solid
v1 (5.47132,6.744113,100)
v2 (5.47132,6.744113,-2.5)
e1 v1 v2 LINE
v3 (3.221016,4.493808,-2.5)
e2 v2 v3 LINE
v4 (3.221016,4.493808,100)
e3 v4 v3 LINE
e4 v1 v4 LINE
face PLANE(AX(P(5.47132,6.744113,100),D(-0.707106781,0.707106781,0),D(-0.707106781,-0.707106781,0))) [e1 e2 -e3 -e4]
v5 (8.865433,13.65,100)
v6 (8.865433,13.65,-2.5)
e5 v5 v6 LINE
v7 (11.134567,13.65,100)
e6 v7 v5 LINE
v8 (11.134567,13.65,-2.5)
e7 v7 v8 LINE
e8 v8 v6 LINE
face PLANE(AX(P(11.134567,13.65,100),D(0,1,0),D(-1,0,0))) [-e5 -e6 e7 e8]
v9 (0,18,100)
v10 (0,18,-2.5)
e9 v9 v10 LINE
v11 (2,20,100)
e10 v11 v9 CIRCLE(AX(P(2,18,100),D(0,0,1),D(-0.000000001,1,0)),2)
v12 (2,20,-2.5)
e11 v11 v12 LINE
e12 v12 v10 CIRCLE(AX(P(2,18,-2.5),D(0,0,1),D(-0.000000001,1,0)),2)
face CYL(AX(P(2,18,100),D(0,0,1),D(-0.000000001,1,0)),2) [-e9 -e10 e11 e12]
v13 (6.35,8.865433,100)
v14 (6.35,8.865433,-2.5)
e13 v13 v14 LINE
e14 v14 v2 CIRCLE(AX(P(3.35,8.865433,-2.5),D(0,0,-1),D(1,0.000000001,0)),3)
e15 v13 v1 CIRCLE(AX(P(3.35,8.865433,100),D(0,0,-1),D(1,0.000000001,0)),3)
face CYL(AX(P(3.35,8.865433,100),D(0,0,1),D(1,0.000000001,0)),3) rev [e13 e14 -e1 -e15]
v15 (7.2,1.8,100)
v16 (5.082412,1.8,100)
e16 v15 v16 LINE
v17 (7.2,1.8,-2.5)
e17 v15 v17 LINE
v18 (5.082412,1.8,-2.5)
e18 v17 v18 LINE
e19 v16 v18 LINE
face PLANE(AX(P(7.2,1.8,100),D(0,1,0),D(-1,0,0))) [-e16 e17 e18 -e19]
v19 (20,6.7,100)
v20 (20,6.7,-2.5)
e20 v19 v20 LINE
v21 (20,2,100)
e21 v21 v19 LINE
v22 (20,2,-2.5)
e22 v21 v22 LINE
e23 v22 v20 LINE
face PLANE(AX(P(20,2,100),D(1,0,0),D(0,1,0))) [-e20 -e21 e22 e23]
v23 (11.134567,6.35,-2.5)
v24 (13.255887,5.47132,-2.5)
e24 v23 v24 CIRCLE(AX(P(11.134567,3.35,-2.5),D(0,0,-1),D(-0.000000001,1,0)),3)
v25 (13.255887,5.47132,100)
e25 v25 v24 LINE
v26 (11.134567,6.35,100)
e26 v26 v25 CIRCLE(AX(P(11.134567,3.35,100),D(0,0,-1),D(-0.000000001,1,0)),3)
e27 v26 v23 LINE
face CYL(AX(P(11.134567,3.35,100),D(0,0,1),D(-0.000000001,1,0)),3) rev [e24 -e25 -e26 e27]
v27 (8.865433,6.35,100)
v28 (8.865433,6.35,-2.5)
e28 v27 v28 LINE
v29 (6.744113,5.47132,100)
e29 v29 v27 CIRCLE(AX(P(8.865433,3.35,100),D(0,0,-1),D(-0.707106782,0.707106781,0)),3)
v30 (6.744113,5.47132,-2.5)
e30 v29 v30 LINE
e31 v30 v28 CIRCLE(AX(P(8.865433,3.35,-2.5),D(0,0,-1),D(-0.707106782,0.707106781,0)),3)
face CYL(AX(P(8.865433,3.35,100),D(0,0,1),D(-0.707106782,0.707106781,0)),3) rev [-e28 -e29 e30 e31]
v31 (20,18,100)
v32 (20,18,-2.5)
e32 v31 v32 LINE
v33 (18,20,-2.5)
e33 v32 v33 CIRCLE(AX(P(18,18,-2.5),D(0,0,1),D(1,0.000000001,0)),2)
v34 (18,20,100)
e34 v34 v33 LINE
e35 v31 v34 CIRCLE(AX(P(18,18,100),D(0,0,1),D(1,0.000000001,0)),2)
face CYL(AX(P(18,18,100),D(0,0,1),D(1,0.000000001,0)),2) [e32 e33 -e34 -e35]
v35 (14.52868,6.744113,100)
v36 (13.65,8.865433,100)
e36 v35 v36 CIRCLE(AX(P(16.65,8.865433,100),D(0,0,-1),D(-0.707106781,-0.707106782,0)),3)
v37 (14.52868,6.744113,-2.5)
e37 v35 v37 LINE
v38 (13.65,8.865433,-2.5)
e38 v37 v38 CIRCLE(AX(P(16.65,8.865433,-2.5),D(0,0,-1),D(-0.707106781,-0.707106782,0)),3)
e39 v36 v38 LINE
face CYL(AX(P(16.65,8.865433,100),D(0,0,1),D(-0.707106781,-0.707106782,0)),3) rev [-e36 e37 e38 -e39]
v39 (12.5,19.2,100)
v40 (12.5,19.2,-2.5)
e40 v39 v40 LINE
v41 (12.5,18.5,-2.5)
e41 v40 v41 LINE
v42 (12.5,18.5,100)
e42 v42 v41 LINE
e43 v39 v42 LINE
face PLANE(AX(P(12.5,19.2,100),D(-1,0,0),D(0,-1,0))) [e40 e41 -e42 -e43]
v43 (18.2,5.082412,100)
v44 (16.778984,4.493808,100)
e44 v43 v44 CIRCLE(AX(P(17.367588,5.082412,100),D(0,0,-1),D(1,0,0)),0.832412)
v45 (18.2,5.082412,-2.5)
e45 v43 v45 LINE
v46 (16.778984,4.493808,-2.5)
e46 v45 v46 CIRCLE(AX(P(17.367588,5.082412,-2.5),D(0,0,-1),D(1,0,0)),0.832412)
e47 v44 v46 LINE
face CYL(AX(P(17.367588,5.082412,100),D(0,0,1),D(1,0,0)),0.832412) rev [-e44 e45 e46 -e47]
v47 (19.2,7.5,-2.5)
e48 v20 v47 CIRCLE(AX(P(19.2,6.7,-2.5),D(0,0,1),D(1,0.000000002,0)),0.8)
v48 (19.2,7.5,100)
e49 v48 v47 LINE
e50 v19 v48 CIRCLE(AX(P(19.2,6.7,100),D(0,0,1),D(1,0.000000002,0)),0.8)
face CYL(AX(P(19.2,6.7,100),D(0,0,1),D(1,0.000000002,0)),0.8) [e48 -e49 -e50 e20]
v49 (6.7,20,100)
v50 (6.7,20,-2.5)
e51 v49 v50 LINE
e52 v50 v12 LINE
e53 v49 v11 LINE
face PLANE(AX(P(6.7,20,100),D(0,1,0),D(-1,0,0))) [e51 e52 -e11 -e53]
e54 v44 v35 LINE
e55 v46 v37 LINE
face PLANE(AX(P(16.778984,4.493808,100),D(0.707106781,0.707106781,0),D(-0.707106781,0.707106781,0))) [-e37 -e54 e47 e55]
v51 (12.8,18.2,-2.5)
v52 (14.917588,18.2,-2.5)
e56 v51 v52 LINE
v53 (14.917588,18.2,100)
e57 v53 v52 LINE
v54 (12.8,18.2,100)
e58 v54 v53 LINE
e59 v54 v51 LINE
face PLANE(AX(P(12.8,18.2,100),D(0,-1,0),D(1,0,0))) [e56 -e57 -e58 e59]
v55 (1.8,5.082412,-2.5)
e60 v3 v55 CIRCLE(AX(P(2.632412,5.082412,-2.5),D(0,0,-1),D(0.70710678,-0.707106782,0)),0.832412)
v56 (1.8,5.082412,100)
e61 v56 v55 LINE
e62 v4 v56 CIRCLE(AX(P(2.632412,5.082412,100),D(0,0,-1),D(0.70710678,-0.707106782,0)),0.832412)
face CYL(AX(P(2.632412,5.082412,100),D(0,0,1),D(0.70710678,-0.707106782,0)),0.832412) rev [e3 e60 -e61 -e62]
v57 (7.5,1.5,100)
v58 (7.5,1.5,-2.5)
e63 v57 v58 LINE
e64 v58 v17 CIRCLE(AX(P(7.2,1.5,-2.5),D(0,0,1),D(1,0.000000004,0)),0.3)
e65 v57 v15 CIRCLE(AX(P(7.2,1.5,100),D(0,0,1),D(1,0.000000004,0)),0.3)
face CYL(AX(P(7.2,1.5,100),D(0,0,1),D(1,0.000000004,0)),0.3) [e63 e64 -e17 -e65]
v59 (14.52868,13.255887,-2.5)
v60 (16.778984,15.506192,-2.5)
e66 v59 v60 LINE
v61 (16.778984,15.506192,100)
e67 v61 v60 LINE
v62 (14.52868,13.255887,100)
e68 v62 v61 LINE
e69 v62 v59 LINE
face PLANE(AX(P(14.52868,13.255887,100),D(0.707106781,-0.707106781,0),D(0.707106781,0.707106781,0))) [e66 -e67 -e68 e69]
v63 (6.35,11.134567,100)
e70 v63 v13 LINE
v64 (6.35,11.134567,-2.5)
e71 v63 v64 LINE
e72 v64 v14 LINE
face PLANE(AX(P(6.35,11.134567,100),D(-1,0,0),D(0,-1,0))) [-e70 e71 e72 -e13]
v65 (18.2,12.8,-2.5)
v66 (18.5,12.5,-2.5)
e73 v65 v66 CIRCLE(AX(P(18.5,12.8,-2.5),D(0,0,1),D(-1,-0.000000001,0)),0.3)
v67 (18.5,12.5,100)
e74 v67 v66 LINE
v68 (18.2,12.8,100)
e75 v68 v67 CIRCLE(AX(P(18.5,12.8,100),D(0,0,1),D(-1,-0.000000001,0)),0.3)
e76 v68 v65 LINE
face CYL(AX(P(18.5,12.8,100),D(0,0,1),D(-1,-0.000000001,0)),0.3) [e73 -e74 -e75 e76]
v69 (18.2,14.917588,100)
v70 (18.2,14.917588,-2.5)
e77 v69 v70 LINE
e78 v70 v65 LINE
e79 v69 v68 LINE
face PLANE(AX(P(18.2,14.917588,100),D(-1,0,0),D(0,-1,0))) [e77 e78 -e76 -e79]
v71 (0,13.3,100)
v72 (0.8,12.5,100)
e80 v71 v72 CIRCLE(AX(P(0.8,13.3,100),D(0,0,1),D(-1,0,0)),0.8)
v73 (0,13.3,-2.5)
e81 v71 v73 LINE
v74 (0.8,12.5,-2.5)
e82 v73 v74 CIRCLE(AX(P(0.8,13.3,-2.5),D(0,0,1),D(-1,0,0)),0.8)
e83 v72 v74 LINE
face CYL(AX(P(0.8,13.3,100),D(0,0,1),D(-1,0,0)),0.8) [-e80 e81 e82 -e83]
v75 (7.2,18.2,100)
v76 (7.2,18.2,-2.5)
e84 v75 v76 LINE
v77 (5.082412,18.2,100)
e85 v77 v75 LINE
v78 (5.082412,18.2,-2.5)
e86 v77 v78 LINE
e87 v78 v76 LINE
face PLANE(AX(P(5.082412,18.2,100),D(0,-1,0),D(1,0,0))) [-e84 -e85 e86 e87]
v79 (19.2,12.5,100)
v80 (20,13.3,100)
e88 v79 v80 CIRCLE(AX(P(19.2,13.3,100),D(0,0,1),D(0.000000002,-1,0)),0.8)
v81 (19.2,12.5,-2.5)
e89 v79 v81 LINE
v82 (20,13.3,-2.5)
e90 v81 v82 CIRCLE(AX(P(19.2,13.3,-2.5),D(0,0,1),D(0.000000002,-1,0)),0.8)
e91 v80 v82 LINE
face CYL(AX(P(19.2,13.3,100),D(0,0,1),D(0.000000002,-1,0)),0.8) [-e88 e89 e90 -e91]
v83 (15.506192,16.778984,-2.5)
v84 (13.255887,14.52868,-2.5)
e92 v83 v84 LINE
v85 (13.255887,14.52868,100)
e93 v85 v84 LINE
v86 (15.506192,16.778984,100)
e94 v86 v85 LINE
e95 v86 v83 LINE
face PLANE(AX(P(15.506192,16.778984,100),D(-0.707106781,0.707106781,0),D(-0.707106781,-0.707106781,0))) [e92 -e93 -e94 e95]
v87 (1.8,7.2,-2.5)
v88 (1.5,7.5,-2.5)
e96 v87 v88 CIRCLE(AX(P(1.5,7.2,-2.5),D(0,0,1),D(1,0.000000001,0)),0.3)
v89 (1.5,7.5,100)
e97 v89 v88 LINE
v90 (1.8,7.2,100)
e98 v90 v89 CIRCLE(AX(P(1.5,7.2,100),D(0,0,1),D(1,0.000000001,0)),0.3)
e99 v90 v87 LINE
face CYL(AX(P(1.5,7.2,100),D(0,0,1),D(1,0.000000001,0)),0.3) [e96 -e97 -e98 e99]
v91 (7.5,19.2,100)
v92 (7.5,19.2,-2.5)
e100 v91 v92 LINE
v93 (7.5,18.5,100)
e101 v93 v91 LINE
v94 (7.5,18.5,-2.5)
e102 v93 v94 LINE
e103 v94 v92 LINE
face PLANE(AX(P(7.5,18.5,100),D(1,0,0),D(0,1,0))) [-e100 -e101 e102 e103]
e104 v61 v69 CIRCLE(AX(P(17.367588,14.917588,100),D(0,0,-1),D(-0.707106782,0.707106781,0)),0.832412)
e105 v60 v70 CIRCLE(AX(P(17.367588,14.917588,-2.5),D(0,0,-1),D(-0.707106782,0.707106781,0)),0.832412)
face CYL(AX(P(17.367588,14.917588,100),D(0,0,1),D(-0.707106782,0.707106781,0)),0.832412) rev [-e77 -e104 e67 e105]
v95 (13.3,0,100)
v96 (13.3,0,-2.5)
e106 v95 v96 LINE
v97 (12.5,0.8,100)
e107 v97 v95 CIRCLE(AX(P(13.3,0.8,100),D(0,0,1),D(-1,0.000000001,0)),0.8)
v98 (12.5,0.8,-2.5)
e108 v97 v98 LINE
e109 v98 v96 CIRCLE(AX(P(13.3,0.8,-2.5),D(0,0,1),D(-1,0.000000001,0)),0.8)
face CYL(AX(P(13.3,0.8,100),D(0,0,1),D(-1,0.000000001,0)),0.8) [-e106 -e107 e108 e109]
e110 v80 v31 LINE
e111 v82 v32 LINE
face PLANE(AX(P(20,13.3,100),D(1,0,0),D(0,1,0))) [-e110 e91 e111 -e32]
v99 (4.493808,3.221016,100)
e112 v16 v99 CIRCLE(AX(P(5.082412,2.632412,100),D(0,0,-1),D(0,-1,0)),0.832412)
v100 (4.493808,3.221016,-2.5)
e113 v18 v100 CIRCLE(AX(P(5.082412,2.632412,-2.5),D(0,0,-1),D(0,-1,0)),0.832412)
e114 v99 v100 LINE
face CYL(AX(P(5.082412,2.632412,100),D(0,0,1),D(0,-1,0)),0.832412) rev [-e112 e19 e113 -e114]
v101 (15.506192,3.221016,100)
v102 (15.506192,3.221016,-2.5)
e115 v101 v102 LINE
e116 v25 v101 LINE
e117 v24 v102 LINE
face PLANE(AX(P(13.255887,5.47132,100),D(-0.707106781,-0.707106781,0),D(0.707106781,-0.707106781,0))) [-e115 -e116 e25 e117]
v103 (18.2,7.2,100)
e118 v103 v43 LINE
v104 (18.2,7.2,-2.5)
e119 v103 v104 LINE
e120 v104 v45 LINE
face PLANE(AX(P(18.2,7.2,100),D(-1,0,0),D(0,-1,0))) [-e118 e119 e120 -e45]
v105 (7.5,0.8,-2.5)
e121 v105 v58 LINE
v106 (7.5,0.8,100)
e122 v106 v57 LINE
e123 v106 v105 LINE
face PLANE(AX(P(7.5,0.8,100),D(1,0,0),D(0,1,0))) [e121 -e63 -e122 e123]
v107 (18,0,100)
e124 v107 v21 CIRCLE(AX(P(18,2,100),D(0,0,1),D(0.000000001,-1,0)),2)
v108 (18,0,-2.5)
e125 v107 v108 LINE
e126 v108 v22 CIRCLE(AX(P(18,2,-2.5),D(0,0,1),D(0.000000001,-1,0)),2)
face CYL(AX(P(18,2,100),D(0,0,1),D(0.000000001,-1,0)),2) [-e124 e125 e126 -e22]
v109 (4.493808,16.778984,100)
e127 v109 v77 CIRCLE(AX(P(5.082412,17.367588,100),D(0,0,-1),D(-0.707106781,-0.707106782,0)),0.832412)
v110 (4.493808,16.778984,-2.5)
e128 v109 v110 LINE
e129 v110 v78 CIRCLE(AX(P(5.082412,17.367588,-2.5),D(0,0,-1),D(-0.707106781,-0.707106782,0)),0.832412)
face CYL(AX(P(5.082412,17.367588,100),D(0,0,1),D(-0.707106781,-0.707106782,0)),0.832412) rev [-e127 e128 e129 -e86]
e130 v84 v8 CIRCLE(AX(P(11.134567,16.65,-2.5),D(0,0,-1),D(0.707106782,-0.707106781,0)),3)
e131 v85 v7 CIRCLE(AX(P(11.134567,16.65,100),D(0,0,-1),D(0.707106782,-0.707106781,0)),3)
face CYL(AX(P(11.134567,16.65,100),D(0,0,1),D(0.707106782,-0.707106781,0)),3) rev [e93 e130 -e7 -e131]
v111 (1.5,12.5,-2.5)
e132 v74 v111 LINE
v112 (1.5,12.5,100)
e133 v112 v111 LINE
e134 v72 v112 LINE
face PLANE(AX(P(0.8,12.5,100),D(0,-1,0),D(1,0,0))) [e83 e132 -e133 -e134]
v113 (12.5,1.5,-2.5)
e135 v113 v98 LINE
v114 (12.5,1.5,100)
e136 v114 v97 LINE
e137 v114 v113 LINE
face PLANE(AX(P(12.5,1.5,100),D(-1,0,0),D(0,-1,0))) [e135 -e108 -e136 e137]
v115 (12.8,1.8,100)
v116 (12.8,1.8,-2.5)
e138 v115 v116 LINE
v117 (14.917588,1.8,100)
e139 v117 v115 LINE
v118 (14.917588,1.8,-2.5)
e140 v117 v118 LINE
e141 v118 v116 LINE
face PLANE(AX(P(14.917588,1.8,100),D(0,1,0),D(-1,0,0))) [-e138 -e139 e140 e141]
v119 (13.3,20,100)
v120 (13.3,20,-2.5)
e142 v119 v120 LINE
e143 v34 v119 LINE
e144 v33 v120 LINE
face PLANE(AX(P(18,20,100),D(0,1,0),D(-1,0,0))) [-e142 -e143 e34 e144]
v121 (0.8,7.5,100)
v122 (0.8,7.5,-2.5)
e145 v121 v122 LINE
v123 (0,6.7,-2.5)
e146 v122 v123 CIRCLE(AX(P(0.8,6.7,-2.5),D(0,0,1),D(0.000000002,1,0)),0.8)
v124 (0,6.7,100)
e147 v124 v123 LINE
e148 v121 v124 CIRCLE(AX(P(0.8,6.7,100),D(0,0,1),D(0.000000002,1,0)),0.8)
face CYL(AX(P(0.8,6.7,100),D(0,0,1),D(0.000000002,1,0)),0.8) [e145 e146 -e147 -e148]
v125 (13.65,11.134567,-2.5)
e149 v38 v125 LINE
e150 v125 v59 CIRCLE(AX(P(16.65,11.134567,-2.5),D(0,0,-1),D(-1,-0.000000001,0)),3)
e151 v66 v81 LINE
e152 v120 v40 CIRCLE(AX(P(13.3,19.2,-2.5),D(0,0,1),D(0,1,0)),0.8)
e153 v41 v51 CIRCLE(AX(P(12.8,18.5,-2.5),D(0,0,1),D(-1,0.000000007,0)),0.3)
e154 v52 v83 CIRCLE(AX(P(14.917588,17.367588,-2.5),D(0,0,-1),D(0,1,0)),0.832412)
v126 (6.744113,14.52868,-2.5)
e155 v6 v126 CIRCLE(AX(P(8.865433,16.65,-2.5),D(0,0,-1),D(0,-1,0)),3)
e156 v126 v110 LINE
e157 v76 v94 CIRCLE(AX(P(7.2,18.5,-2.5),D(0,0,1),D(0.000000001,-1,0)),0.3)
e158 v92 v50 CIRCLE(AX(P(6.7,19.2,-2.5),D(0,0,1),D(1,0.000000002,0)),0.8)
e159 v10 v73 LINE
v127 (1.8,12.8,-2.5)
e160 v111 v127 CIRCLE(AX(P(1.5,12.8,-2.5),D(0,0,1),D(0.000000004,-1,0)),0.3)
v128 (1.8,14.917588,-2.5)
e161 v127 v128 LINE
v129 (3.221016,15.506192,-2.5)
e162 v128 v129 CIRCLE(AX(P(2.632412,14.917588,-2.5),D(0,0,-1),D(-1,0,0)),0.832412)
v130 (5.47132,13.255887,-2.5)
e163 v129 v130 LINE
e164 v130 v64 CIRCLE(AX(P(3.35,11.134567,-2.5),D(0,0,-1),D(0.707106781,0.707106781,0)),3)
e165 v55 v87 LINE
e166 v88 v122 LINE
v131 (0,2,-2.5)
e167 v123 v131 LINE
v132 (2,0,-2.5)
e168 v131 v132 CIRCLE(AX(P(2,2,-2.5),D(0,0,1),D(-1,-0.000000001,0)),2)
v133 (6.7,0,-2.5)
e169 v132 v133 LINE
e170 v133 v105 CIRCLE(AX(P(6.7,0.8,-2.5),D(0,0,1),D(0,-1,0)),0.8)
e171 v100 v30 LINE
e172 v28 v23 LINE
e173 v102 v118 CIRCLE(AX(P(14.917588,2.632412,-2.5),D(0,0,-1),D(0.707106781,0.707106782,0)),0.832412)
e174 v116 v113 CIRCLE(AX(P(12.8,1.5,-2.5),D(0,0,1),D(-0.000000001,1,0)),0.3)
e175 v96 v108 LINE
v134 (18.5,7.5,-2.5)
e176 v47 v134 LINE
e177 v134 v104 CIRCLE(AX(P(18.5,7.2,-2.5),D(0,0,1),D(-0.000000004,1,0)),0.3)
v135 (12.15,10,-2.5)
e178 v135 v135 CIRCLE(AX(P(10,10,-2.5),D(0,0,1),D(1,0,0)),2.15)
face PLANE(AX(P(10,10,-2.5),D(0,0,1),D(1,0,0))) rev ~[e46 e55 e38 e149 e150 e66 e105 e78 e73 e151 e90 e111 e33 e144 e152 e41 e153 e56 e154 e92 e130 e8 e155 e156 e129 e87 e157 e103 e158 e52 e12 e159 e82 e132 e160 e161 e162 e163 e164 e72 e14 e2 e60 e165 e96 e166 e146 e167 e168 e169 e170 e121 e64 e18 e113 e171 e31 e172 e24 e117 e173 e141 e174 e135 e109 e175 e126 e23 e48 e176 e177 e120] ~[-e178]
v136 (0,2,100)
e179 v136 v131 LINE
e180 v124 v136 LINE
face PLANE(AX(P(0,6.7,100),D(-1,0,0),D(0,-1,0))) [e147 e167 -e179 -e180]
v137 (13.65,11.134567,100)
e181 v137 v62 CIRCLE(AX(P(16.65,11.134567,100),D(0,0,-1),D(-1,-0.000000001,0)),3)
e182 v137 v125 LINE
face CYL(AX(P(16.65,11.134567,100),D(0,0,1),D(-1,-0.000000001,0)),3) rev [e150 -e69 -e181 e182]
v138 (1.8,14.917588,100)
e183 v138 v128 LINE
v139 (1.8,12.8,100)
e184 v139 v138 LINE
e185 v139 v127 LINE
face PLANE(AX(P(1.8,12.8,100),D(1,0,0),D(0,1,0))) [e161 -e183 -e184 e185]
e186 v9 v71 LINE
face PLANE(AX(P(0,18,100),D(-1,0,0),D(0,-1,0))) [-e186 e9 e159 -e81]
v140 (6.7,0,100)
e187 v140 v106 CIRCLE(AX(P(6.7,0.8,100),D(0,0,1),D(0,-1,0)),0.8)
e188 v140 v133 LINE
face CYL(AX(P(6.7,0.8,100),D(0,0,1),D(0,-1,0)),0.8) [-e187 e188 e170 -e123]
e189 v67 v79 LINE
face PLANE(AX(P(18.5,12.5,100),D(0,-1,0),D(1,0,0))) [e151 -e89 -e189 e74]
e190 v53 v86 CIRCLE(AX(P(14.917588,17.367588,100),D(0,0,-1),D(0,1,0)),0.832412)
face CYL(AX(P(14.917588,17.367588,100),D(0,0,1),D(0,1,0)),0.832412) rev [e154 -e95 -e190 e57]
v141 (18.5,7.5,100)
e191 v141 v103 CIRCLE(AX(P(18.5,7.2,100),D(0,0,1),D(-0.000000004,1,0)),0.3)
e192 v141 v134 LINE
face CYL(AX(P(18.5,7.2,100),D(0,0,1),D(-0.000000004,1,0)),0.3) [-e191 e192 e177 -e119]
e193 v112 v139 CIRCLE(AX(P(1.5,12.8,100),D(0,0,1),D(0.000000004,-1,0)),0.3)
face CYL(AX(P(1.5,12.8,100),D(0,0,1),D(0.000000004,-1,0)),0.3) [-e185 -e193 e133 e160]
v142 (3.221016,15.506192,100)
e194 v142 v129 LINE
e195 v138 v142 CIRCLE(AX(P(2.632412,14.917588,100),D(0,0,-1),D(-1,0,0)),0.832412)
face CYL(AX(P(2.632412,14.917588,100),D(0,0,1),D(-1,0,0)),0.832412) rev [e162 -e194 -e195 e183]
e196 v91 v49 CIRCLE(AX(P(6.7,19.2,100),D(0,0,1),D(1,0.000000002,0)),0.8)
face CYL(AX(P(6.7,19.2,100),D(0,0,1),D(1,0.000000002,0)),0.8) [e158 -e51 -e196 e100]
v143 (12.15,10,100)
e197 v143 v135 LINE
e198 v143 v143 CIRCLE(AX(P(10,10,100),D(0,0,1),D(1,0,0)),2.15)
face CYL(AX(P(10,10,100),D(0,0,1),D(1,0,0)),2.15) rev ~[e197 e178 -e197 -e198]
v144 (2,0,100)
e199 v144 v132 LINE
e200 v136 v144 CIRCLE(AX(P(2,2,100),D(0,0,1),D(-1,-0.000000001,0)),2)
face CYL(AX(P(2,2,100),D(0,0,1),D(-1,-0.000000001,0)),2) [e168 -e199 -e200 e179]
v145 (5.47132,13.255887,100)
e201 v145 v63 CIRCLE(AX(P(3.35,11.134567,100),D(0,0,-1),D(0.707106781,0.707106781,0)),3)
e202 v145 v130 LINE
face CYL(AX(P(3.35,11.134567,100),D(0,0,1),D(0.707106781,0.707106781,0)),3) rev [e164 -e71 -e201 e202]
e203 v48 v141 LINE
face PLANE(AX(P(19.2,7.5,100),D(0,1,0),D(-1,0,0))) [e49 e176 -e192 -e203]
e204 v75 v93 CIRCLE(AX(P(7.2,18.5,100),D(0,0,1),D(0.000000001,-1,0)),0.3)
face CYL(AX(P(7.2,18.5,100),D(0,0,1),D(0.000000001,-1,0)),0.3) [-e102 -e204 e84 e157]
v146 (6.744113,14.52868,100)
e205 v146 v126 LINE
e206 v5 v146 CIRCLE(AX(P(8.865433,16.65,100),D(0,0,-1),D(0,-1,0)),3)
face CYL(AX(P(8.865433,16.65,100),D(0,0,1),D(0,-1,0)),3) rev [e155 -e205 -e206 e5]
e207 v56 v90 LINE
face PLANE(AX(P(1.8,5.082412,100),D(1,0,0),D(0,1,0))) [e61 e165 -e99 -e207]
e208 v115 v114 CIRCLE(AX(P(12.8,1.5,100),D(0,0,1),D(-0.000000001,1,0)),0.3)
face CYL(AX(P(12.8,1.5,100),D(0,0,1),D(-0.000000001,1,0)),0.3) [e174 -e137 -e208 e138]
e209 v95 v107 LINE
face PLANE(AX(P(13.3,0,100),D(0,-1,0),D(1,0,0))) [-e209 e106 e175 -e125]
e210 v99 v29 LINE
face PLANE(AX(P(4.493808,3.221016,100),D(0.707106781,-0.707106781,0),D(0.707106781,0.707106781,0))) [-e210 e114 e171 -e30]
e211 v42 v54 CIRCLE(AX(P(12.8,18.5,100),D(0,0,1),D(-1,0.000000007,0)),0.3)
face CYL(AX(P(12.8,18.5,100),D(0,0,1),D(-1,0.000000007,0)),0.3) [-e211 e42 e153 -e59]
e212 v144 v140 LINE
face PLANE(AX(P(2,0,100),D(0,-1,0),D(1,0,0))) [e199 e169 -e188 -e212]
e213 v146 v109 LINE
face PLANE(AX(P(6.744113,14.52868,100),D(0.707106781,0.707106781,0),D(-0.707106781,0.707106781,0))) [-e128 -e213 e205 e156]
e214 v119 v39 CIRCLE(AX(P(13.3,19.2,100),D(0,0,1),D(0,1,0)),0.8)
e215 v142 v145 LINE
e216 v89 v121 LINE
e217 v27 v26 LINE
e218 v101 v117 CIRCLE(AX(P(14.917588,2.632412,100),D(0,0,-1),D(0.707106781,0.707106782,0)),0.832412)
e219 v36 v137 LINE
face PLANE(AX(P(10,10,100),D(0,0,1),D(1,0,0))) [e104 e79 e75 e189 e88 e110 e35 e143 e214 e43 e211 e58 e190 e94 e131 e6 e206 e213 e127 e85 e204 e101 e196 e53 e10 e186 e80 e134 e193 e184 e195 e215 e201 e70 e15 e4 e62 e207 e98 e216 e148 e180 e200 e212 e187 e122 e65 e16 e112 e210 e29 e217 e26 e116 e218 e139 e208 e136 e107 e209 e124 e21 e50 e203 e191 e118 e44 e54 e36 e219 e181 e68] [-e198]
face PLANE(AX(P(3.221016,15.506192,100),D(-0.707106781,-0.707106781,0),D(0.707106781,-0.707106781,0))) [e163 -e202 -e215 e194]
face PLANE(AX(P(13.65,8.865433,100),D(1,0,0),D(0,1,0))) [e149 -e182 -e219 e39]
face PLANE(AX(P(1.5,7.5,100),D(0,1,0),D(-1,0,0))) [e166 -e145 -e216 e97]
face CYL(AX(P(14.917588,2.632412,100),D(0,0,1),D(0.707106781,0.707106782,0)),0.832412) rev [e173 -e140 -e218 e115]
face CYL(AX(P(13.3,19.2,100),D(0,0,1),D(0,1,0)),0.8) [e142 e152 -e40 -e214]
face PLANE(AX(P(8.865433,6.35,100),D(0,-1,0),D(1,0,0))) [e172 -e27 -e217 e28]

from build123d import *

# Parameters (mm, degrees)
SKIZZE1_R                       = 2.15
AUFSATZ_LINEAR_AUSTRAGEN1_DEPTH = 102.5


with BuildPart() as part:
    # Skizze1 → Aufsatz-Linear austragen1 (new body)
    with BuildSketch(Plane.XY.offset(100)):
        with BuildLine():
            Line((12.499999989, 1.499999999), (12.499999989, 0.800000002))
            ThreePointArc((12.499999989, 0.800000002), (12.734314564, 0.234314576), (13.299999991, 0))
            Line((13.299999991, 0), (18, 0))
            ThreePointArc((18, 0), (19.414213562, 0.585786438), (20, 2))
            Line((20, 2), (20, 6.700000003))
            ThreePointArc((20, 6.700000003), (19.765685425, 7.265685427), (19.2, 7.500000003))
            Line((19.2, 7.500000003), (18.499999995, 7.500000003))
            ThreePointArc((18.499999995, 7.500000003), (18.287867961, 7.412132037), (18.199999995, 7.200000003))
            Line((18.199999995, 7.200000003), (18.199999995, 5.082411607))
            ThreePointArc((18.199999995, 5.082411607), (17.686138517, 4.313363558), (16.778984491, 4.493807713))
            Line((16.778984491, 4.493807713), (14.528679651, 6.744112553))
            ThreePointArc((14.528679651, 6.744112553), (13.878361397, 7.717382599), (13.649999995, 8.865432896))
            Line((13.649999995, 8.865432896), (13.649999995, 11.134567106))
            ThreePointArc((13.649999995, 11.134567106), (13.878361397, 12.282617403), (14.528679651, 13.255887449))
            Line((14.528679651, 13.255887449), (16.778984493, 15.506192291))
            ThreePointArc((16.778984493, 15.506192291), (17.686138518, 15.686636446), (18.199999995, 14.917588398))
            Line((18.199999995, 14.917588398), (18.199999995, 12.800000001))
            ThreePointArc((18.199999995, 12.800000001), (18.287867961, 12.587867966), (18.499999996, 12.5))
            Line((18.499999996, 12.5), (19.199999998, 12.5))
            ThreePointArc((19.199999998, 12.5), (19.765685424, 12.734314576), (20, 13.300000003))
            Line((20, 13.300000003), (20, 18))
            ThreePointArc((20, 18), (19.414213562, 19.414213562), (18, 20))
            Line((18, 20), (13.299999989, 20))
            ThreePointArc((13.299999989, 20), (12.734314564, 19.765685425), (12.499999989, 19.2))
            Line((12.499999989, 19.2), (12.499999989, 18.499999999))
            ThreePointArc((12.499999989, 18.499999999), (12.587867954, 18.287867964), (12.799999989, 18.199999999))
            Line((12.799999989, 18.199999999), (14.917588395, 18.199999999))
            ThreePointArc((14.917588395, 18.199999999), (15.686636445, 17.68613852), (15.50619229, 16.778984493))
            Line((15.50619229, 16.778984493), (13.255887454, 14.528679658))
            ThreePointArc((13.255887454, 14.528679658), (12.282617408, 13.878361404), (11.134567111, 13.650000002))
            Line((11.134567111, 13.650000002), (8.865432888, 13.650000002))
            ThreePointArc((8.865432888, 13.650000002), (7.717382592, 13.878361404), (6.744112546, 14.528679658))
            Line((6.744112546, 14.528679658), (4.493807706, 16.778984498))
            ThreePointArc((4.493807706, 16.778984498), (4.313363551, 17.686138522), (5.082411599, 18.199999999))
            Line((5.082411599, 18.199999999), (7.199999999, 18.199999999))
            ThreePointArc((7.199999999, 18.199999999), (7.412132034, 18.287867965), (7.5, 18.5))
            Line((7.5, 18.5), (7.5, 19.199999998))
            ThreePointArc((7.5, 19.199999998), (7.265685424, 19.765685424), (6.699999997, 20))
            Line((6.699999997, 20), (2, 20))
            ThreePointArc((2, 20), (0.585786438, 19.414213562), (0, 18))
            Line((0, 18), (0, 13.3))
            ThreePointArc((0, 13.3), (0.234314575, 12.734314575), (0.8, 12.5))
            Line((0.8, 12.5), (1.500000004, 12.5))
            ThreePointArc((1.500000004, 12.5), (1.712132038, 12.587867966), (1.800000004, 12.8))
            Line((1.800000004, 12.8), (1.800000004, 14.917588391))
            ThreePointArc((1.800000004, 14.917588391), (2.313861482, 15.68663644), (3.221015508, 15.506192285))
            Line((3.221015508, 15.506192285), (5.471320345, 13.255887449))
            ThreePointArc((5.471320345, 13.255887449), (6.121638599, 12.282617402), (6.350000001, 11.134567106))
            Line((6.350000001, 11.134567106), (6.350000001, 8.865432891))
            ThreePointArc((6.350000001, 8.865432891), (6.121638599, 7.717382594), (5.471320345, 6.744112548))
            Line((5.471320345, 6.744112548), (3.221015505, 4.493807708))
            ThreePointArc((3.221015505, 4.493807708), (2.313861481, 4.313363554), (1.800000004, 5.082411601))
            Line((1.800000004, 5.082411601), (1.800000004, 7.200000001))
            ThreePointArc((1.800000004, 7.200000001), (1.712132038, 7.412132036), (1.500000003, 7.500000002))
            Line((1.500000003, 7.500000002), (0.800000003, 7.500000002))
            ThreePointArc((0.800000003, 7.500000002), (0.234314576, 7.265685427), (0, 6.7))
            Line((0, 6.7), (0, 2))
            ThreePointArc((0, 2), (0.585786438, 0.585786438), (2, 0))
            Line((2, 0), (6.7, 0))
            ThreePointArc((6.7, 0), (7.265685425, 0.234314575), (7.5, 0.8))
            Line((7.5, 0.8), (7.5, 1.5))
            ThreePointArc((7.5, 1.5), (7.412132034, 1.712132034), (7.2, 1.8))
            Line((7.2, 1.8), (5.0824116, 1.8))
            ThreePointArc((5.0824116, 1.8), (4.313363551, 2.313861478), (4.493807706, 3.221015504))
            Line((4.493807706, 3.221015504), (6.744112546, 5.471320344))
            ThreePointArc((6.744112546, 5.471320344), (7.717382592, 6.121638598), (8.865432889, 6.35))
            Line((8.865432889, 6.35), (11.134567106, 6.35))
            ThreePointArc((11.134567106, 6.35), (12.282617403, 6.121638598), (13.255887449, 5.471320344))
            Line((13.255887449, 5.471320344), (15.506192291, 3.221015502))
            ThreePointArc((15.506192291, 3.221015502), (15.686636446, 2.313861477), (14.917588398, 1.8))
            Line((14.917588398, 1.8), (12.79999999, 1.8))
            ThreePointArc((12.79999999, 1.8), (12.587867955, 1.712132034), (12.499999989, 1.499999999))
        make_face()
        with Locations((10, 10)):
            Circle(SKIZZE1_R, mode=Mode.SUBTRACT)
    extrude(amount=-AUFSATZ_LINEAR_AUSTRAGEN1_DEPTH)


solid = part.part
